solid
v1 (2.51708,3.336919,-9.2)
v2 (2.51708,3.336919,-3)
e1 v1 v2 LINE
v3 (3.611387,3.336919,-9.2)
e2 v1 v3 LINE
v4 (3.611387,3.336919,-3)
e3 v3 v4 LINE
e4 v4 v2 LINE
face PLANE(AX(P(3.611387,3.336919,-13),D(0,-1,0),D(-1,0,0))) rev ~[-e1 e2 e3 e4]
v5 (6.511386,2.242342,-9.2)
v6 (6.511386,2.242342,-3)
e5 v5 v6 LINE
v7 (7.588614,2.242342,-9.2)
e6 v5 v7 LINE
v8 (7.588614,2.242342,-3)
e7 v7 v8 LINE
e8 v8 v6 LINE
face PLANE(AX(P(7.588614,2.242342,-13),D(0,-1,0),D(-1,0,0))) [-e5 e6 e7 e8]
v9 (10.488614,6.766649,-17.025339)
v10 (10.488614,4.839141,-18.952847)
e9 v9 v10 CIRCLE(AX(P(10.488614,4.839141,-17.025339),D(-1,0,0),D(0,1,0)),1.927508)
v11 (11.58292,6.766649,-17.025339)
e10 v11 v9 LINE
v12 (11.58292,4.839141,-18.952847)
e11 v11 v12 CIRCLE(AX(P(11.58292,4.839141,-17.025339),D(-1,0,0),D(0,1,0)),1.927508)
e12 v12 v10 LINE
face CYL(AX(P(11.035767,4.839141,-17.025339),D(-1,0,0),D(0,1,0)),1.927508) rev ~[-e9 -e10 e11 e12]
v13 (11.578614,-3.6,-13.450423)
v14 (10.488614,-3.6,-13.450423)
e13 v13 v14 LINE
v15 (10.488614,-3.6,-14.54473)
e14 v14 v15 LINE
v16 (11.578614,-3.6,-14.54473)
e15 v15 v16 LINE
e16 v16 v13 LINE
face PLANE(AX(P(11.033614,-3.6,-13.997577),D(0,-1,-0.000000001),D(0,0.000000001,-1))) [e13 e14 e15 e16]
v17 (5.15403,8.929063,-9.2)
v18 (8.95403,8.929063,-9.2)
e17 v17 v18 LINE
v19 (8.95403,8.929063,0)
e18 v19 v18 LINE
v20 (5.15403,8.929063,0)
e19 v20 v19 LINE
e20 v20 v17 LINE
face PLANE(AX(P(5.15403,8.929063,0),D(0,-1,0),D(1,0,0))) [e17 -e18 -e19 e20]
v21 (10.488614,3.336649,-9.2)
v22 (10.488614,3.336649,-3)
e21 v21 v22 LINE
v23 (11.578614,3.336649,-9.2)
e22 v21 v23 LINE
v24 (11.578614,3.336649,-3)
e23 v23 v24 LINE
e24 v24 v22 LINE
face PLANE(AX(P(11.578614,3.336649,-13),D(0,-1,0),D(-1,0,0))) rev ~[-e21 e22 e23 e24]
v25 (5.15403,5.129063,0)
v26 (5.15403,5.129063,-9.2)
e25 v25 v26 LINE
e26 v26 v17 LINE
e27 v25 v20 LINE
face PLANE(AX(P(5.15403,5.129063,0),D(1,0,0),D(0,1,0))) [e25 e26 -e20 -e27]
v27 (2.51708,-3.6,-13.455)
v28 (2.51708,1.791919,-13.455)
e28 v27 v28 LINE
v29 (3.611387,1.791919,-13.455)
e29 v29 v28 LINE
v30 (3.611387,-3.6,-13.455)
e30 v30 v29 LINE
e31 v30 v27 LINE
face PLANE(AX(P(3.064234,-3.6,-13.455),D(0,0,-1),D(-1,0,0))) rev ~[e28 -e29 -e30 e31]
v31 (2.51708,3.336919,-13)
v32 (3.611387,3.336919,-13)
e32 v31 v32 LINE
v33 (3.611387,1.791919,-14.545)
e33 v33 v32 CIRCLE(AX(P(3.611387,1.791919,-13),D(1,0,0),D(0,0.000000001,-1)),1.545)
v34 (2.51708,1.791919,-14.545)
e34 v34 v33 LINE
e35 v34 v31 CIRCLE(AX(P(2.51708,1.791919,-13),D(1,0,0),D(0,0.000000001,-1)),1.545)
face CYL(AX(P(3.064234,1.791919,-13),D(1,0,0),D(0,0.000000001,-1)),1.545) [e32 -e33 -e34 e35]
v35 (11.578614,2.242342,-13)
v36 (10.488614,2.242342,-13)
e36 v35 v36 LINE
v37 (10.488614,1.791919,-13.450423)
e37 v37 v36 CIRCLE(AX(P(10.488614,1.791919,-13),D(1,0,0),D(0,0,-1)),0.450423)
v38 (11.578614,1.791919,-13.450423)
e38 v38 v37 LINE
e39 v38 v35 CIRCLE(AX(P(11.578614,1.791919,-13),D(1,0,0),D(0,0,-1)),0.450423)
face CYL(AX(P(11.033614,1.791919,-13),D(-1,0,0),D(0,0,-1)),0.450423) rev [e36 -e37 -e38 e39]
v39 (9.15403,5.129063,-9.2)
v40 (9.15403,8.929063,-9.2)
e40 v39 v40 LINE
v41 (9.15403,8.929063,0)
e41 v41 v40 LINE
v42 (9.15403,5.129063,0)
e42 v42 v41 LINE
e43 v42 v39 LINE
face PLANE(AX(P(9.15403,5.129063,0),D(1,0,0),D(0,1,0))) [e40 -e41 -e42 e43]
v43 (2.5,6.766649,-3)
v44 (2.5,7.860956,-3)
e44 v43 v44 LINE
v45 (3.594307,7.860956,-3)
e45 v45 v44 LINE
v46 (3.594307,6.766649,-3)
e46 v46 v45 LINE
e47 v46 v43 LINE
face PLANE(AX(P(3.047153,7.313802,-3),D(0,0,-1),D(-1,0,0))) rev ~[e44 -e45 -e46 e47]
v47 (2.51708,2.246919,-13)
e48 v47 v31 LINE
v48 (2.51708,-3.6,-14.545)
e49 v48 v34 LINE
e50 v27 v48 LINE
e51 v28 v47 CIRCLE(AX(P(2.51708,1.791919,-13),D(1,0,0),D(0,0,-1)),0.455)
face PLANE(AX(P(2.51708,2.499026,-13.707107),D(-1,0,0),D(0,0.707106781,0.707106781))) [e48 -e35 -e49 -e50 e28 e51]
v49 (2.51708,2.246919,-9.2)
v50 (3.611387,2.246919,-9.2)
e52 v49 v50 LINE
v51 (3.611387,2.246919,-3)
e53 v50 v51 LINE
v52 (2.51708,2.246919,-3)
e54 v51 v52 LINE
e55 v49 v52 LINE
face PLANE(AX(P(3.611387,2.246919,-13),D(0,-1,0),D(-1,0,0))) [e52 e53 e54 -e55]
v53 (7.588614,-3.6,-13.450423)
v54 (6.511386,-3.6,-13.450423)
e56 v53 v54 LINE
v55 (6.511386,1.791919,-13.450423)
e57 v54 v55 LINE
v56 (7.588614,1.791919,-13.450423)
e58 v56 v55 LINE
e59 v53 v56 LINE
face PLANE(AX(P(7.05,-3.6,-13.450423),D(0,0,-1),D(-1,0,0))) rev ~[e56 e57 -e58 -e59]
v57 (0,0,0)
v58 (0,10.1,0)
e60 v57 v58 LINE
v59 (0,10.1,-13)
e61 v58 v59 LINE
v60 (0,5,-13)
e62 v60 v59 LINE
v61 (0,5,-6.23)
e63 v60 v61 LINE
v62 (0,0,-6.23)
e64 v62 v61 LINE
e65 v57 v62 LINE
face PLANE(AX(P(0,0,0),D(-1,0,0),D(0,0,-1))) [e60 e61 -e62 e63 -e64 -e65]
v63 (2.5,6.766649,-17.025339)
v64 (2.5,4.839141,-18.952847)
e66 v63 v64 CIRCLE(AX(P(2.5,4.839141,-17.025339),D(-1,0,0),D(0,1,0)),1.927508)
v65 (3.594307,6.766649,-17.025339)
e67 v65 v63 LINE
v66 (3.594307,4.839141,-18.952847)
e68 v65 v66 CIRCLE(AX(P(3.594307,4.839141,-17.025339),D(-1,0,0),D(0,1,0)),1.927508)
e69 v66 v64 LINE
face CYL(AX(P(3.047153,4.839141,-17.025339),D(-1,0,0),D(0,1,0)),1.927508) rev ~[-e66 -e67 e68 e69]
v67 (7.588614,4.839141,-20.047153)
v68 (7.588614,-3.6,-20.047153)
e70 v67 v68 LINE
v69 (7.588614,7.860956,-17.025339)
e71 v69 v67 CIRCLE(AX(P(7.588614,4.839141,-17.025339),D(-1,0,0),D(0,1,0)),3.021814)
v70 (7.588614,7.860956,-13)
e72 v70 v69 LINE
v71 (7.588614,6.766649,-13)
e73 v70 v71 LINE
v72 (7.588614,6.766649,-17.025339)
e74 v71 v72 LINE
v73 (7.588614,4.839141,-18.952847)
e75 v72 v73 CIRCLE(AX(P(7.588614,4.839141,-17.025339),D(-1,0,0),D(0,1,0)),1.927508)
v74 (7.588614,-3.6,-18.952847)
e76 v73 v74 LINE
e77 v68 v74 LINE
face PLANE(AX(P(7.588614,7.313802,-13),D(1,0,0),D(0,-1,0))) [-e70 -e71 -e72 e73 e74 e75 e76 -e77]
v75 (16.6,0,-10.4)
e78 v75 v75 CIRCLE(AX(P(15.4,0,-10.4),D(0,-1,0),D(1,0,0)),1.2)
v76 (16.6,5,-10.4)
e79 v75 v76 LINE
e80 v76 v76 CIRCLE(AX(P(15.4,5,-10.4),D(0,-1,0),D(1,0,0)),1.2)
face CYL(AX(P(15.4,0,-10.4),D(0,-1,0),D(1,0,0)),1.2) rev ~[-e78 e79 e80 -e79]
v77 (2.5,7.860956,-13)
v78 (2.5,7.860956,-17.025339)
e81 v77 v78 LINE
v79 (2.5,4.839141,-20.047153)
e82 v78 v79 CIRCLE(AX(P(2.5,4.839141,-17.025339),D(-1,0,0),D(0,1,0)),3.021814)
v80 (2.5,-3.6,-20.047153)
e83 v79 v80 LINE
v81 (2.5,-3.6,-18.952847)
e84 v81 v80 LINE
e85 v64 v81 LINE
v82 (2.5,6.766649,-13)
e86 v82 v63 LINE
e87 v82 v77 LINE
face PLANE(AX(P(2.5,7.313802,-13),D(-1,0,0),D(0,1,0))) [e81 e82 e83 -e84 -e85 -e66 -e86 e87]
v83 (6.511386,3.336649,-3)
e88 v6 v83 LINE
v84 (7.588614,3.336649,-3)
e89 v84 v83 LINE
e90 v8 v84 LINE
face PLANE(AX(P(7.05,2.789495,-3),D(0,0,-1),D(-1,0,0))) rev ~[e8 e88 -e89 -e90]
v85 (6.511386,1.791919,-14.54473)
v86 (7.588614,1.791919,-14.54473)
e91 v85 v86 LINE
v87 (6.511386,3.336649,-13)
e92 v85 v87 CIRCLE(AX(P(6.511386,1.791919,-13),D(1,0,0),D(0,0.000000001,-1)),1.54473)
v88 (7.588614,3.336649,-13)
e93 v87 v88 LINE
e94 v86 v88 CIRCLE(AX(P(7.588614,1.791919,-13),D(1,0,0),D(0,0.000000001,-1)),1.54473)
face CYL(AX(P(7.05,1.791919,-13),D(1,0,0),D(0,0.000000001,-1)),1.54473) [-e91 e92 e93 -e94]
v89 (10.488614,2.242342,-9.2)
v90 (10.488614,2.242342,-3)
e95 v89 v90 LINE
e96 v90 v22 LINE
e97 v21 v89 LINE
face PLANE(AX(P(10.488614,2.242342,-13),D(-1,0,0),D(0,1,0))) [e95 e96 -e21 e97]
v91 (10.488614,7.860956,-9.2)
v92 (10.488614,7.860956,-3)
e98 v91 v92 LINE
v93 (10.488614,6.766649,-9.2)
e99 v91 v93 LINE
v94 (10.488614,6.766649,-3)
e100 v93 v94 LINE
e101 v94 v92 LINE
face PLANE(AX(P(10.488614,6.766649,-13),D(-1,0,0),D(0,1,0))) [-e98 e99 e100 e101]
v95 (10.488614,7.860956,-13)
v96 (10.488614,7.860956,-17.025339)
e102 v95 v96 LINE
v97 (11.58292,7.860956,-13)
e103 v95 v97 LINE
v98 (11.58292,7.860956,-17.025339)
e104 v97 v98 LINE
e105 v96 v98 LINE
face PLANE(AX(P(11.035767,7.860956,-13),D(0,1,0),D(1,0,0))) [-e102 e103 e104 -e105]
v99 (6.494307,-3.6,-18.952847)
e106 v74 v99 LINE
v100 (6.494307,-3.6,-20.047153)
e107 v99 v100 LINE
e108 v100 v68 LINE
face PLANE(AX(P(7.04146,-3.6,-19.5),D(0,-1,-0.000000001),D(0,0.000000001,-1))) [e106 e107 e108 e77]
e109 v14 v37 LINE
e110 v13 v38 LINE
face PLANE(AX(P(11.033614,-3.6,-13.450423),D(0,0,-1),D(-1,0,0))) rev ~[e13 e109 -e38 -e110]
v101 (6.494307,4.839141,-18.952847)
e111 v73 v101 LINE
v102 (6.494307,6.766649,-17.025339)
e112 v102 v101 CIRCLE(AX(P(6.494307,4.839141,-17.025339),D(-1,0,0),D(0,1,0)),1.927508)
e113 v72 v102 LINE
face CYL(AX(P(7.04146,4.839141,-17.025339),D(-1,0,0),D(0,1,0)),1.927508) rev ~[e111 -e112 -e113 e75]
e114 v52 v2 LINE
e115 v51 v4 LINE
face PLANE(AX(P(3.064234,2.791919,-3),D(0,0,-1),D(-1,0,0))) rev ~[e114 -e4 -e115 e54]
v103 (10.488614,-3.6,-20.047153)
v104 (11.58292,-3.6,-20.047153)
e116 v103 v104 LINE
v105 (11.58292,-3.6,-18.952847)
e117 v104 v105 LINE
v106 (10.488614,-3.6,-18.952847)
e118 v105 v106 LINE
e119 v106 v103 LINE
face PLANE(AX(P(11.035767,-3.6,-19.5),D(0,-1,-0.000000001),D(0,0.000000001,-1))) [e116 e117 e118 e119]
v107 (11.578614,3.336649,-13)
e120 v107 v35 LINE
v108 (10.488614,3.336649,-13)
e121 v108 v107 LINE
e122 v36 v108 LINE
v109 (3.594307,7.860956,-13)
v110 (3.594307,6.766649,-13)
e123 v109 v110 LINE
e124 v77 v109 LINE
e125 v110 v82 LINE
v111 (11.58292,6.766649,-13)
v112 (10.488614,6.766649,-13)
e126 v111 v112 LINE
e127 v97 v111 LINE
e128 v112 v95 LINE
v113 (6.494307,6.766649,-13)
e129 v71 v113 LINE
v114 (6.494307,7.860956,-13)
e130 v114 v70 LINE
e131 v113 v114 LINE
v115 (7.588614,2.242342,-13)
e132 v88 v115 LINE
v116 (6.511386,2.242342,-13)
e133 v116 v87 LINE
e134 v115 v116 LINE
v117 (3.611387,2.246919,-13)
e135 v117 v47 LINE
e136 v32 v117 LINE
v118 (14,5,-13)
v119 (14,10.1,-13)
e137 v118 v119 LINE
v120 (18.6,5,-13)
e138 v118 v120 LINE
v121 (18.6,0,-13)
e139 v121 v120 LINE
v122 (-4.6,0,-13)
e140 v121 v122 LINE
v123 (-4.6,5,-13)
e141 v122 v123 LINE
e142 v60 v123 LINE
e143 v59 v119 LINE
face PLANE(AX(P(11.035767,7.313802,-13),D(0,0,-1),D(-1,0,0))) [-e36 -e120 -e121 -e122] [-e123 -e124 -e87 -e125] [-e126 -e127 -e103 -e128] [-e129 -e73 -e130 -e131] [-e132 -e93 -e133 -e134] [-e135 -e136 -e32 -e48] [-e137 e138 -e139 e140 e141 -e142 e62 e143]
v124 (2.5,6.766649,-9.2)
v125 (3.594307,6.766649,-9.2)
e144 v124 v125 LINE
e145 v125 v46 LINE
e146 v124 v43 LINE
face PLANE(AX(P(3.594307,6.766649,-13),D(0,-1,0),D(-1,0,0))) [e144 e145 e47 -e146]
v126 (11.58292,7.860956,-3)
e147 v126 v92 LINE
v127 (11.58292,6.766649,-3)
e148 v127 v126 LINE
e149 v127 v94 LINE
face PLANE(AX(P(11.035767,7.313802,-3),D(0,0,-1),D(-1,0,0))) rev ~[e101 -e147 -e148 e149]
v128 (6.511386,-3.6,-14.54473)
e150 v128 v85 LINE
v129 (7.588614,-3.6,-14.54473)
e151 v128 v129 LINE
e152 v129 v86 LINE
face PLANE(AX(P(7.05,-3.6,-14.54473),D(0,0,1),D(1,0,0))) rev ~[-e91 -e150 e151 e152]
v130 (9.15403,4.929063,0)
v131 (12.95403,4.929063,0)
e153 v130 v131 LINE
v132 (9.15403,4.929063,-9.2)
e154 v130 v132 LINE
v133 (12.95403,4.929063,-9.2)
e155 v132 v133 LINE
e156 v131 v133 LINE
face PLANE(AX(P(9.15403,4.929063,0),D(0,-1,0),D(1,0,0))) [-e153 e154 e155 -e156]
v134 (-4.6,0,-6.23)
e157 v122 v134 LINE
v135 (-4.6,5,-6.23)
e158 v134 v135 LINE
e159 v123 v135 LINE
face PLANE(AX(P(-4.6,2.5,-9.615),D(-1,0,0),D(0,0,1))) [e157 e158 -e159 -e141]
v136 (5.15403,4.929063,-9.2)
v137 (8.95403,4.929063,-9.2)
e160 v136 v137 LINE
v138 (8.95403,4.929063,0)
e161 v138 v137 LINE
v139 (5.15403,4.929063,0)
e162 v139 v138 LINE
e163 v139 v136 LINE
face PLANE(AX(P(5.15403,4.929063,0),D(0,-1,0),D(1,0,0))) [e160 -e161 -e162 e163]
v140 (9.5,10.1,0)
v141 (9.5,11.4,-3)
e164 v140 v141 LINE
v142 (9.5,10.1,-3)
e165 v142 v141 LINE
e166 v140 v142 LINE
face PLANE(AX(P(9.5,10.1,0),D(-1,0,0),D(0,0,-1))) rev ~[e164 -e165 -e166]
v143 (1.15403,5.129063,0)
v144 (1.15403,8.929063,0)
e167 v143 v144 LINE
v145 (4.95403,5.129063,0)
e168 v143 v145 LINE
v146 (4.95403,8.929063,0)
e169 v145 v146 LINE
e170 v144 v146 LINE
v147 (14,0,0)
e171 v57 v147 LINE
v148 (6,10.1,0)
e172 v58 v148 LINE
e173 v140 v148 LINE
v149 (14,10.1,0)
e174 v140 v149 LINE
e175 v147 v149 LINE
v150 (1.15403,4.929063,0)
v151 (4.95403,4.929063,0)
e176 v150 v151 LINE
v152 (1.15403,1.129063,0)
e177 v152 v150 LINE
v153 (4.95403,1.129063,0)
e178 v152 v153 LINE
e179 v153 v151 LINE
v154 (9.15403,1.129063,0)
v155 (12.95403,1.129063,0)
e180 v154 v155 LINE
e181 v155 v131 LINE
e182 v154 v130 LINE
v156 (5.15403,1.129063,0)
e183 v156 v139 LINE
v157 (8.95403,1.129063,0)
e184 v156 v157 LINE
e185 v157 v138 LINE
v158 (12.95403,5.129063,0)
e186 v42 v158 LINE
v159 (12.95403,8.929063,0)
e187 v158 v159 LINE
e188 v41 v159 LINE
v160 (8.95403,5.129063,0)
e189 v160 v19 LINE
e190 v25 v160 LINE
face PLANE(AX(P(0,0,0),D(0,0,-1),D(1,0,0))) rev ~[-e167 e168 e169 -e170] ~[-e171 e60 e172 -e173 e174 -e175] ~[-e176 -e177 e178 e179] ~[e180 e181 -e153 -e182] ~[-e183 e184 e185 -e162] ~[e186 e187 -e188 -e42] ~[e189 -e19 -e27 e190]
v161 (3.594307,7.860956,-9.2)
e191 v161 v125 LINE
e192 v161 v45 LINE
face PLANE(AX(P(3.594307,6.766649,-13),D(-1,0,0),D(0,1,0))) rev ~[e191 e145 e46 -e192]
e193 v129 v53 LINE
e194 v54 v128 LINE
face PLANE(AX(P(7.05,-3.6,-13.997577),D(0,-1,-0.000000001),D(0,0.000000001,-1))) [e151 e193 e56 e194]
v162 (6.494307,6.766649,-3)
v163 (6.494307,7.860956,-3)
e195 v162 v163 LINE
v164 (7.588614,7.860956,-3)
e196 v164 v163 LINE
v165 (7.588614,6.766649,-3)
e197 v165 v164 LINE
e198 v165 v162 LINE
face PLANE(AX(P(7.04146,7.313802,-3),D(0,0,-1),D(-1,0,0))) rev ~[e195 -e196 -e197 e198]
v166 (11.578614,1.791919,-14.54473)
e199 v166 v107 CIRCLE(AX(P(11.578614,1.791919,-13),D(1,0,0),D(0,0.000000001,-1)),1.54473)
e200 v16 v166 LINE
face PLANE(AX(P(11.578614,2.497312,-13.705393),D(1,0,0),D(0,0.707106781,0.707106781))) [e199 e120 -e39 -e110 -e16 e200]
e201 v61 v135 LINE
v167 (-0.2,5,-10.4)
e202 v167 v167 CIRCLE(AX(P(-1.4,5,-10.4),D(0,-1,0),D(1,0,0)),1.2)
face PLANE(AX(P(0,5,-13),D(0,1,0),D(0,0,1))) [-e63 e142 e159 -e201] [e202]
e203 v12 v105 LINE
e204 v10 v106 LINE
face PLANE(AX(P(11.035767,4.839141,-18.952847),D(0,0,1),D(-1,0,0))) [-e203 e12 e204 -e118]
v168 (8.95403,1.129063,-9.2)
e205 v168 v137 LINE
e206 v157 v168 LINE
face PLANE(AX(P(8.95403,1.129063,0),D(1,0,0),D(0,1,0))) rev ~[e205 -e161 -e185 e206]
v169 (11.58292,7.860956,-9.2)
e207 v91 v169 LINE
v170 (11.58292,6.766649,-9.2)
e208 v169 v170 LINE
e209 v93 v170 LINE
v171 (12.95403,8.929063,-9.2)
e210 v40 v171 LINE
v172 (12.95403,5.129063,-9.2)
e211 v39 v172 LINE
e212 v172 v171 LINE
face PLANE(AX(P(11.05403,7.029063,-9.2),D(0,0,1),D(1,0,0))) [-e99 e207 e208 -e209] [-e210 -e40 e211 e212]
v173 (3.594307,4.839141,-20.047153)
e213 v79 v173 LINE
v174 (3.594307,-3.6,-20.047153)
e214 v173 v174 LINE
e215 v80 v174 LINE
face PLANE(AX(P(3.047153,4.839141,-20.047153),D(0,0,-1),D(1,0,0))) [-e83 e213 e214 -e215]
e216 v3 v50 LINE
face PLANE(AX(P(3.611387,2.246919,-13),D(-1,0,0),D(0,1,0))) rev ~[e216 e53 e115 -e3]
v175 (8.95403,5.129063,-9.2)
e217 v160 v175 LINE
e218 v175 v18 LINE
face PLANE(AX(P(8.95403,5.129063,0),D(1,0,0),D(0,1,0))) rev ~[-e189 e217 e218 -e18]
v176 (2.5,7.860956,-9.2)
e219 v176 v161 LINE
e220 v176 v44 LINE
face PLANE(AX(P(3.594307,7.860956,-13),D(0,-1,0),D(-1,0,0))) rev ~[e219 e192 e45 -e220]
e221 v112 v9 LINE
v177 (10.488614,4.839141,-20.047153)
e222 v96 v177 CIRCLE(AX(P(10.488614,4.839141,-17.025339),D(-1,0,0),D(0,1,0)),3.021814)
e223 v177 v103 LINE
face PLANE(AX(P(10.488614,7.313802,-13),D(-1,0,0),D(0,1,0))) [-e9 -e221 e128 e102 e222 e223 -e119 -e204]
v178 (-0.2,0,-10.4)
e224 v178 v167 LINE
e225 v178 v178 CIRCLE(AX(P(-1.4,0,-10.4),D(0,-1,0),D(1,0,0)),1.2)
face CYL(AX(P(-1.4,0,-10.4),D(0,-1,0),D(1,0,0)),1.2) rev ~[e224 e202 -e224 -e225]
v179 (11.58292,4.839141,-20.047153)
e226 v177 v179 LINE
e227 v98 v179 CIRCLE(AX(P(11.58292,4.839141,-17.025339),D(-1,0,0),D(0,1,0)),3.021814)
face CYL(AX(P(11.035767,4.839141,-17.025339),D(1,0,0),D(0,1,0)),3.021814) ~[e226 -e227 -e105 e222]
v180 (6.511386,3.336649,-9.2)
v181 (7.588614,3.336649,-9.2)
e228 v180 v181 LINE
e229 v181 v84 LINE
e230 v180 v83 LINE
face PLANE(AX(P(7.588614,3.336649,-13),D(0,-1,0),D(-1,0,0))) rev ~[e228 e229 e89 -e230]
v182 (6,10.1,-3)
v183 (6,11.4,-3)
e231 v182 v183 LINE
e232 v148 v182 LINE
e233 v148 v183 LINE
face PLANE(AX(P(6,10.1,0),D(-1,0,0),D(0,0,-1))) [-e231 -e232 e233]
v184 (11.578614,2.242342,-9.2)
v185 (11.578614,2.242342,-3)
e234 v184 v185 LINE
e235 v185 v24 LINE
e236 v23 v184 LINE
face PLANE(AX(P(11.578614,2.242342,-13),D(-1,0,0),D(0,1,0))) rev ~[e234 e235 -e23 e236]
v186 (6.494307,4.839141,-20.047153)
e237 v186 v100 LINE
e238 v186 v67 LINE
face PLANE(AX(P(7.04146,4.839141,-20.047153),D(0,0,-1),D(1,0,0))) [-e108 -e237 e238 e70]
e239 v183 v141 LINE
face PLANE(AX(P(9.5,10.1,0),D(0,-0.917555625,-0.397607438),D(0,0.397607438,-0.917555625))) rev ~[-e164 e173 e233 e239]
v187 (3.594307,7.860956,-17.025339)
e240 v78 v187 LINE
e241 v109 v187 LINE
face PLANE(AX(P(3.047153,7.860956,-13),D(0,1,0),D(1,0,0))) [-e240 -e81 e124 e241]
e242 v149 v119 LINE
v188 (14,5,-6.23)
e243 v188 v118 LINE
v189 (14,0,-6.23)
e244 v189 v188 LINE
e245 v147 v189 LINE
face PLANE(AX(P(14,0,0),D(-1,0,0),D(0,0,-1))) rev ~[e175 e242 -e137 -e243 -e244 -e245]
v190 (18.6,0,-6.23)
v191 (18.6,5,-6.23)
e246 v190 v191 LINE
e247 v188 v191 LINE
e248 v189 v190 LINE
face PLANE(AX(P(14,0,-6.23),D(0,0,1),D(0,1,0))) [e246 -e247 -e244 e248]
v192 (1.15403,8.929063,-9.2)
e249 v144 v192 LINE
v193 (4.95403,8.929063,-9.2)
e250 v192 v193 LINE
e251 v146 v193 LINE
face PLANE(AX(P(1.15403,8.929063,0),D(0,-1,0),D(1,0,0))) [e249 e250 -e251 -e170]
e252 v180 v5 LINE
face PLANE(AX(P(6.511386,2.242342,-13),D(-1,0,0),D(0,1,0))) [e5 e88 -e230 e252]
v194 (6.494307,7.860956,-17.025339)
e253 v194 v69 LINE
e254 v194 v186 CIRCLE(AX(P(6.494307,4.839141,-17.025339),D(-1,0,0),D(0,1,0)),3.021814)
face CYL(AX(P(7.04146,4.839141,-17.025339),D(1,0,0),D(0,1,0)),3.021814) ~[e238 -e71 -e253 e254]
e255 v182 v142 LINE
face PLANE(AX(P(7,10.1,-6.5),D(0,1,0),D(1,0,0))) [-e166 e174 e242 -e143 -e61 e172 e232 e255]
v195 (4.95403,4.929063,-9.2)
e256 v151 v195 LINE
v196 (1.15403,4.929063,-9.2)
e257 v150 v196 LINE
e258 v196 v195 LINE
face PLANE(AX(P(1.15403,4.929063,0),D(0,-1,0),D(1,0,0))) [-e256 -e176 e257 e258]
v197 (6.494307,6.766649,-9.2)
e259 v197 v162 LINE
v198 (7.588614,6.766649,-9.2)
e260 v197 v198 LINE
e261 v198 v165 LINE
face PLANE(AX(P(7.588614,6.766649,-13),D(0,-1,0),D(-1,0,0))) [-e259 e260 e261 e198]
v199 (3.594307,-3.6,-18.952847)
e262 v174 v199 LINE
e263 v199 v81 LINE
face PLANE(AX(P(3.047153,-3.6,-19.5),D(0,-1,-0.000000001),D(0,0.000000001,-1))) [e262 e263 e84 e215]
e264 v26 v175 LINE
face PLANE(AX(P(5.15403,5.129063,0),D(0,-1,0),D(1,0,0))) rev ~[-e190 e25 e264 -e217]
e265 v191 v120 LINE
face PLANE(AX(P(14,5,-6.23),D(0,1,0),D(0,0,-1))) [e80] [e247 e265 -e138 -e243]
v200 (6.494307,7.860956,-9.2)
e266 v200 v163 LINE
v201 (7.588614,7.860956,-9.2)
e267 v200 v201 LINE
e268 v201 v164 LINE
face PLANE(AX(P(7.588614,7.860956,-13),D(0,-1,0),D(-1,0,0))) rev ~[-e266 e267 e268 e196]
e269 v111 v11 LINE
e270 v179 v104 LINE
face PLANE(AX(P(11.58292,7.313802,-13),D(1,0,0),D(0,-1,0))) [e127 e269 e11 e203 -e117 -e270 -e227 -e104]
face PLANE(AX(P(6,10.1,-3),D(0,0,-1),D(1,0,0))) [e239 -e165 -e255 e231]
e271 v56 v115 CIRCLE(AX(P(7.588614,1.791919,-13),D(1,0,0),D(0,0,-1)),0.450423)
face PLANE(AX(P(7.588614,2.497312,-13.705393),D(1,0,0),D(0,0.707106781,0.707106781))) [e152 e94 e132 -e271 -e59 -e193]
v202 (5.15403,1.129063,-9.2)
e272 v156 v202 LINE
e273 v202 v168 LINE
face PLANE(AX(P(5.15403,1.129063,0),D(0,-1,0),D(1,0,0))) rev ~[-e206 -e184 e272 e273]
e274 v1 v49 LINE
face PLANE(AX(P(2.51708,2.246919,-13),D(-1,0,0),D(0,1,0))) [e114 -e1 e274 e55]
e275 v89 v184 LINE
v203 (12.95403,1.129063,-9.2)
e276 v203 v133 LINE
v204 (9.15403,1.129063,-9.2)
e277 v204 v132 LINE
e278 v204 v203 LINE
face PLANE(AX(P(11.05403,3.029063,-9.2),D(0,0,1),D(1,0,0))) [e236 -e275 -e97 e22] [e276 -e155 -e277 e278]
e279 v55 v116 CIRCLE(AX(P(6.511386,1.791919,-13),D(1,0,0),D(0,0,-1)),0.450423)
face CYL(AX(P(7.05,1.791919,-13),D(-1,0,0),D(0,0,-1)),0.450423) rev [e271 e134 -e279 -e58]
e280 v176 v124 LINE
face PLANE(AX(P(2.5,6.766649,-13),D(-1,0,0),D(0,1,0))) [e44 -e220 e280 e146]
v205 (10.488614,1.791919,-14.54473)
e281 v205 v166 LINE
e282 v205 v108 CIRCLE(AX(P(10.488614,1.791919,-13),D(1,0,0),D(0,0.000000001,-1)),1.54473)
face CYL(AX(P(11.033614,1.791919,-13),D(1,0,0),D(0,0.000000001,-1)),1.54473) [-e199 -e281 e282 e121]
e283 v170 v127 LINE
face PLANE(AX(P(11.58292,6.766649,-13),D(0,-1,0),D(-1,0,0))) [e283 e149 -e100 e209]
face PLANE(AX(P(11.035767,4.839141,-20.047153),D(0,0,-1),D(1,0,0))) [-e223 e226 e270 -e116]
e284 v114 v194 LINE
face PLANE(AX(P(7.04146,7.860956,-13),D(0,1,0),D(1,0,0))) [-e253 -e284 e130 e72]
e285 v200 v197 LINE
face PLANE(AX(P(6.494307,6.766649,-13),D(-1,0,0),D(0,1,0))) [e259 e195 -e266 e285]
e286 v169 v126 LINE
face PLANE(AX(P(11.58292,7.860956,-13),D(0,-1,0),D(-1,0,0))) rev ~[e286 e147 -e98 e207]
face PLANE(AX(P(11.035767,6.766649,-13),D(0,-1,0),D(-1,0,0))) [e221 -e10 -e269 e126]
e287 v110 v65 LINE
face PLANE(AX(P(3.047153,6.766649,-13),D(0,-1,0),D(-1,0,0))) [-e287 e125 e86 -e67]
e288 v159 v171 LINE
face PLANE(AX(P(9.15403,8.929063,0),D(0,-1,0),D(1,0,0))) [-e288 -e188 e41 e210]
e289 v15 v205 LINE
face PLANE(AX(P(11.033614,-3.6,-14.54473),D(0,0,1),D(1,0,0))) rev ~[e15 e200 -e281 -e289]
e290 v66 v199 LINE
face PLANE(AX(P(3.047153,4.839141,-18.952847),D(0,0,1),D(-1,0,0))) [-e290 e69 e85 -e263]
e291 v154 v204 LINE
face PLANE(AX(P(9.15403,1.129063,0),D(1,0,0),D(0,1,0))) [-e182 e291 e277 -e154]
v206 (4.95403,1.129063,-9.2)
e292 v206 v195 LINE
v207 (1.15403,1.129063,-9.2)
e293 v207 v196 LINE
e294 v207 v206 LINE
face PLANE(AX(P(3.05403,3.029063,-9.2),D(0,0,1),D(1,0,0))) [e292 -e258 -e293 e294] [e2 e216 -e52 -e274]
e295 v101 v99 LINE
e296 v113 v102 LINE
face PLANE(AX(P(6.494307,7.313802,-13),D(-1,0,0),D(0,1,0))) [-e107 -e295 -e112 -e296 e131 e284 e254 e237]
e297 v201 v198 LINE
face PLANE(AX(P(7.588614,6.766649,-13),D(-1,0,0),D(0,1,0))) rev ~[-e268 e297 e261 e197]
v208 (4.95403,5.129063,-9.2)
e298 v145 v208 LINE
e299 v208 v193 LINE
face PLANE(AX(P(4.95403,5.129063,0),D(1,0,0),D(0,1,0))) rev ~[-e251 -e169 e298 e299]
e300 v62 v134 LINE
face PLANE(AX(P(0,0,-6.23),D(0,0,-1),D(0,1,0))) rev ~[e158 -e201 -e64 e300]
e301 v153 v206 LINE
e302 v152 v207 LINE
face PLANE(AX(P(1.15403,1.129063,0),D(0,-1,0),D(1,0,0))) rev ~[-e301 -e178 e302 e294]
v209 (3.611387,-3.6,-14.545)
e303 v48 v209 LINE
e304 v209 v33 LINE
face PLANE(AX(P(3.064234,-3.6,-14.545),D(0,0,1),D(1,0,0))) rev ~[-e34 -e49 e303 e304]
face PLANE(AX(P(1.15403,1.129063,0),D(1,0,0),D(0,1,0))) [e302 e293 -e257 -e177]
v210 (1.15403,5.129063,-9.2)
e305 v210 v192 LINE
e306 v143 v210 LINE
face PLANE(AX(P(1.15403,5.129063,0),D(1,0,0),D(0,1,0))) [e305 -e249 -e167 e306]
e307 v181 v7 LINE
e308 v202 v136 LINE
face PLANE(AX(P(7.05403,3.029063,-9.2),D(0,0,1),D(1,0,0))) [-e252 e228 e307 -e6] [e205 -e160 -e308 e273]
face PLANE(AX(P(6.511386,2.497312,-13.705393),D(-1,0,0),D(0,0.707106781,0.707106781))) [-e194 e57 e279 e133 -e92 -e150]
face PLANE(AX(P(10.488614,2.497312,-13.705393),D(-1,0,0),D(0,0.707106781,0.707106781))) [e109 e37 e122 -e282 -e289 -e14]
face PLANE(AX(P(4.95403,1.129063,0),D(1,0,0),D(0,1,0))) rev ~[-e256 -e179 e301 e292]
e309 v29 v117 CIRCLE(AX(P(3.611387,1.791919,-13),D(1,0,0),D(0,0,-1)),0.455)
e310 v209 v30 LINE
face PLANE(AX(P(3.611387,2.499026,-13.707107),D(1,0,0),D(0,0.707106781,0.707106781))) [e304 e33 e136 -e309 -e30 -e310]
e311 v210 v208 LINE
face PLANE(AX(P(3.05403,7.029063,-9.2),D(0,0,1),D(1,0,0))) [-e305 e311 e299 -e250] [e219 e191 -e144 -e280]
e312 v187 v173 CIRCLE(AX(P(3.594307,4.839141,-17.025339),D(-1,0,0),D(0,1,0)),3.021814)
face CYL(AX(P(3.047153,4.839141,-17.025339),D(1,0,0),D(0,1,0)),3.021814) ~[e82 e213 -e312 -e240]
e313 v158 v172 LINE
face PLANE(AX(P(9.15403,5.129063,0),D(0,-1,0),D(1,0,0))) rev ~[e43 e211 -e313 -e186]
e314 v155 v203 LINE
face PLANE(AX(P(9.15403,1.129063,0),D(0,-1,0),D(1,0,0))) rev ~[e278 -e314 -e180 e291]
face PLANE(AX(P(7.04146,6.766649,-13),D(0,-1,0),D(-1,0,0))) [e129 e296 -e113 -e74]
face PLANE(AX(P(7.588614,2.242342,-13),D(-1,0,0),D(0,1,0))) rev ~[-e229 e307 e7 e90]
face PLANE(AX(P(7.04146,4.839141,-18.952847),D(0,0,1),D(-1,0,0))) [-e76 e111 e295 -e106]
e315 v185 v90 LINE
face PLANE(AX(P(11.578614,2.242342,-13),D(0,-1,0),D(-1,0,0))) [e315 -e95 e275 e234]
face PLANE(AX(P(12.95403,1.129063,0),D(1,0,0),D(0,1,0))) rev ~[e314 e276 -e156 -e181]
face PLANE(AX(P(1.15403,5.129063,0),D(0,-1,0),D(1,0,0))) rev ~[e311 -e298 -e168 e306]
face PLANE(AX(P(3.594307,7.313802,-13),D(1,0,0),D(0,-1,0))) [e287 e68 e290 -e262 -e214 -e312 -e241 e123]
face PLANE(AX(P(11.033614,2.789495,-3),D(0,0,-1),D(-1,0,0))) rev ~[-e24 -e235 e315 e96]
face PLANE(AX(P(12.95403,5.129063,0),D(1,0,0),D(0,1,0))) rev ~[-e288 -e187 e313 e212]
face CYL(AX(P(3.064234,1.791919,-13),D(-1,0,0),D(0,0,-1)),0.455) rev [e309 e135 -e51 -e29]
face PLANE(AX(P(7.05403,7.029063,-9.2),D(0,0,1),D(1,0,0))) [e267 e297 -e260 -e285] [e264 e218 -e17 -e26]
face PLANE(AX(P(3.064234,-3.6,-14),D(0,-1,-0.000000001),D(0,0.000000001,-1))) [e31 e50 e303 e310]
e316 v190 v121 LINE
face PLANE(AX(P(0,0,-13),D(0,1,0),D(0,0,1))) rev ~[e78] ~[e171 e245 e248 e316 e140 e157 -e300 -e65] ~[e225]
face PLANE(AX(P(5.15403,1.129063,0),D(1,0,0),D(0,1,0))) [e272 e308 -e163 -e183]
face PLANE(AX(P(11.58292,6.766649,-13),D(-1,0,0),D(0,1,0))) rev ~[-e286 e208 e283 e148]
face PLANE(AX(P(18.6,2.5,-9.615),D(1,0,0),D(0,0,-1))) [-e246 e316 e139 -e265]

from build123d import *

# Parameters (mm, degrees)
SKETCH1_W           = 14
SKETCH1_H           = 13
BOSS_EXTRUDE1_DEPTH = 10.1
SKETCH2_W           = 3.5
SKETCH2_H           = 3
BOSS_EXTRUDE2_DEPTH = 1.3
CUT_EXTRUDE1_REACH  = 21.728
SKETCH4_W           = 6.77
SKETCH4_H           = 5
BOSS_EXTRUDE3_DEPTH = 4.6
SKETCH5_W           = 6.77
SKETCH5_H           = 5
BOSS_EXTRUDE4_DEPTH = 4.6
SKETCH6_W           = 3.8
SKETCH6_H           = 3.8
CUT_EXTRUDE2_DEPTH  = 9.2
SKETCH7_W           = 1.094306831
SKETCH7_H           = 1.09430683
SKETCH7_W_2         = 1.09430683
BOSS_EXTRUDE5_DEPTH = 10
SKETCH7_4_W         = 1.094306831
SKETCH7_4_H         = 1.09430683
SKETCH7_4_W_2       = 1.09430683
SKETCH10_W          = 1.09430683
SKETCH10_H          = 1.09
SKETCH10_W_2        = 1.077227458
SKETCH10_H_2        = 1.094306831
SKETCH10_W_3        = 1.09
SKETCH10_2_W        = 1.09430683
SKETCH10_2_H        = 1.09
SKETCH10_2_W_2      = 1.077227458
SKETCH10_2_H_2      = 1.094306831
SKETCH10_2_W_3      = 1.09
BOSS_EXTRUDE6_DEPTH = 10
SKETCH12_R          = 1.2
CUT_EXTRUDE3_DEPTH  = 30.627830836


with BuildPart() as part:
    # Sketch1 → Boss-Extrude1 (new body)
    with BuildSketch(Plane(origin=(0, 0, 0), x_dir=(1, 0, 0), z_dir=(0, 1, 0))):
        with Locations((7, 6.5)):
            Rectangle(SKETCH1_W, SKETCH1_H)
    extrude(amount=BOSS_EXTRUDE1_DEPTH)

    # Sketch2 → Boss-Extrude2 (add)
    with BuildSketch(Plane(origin=(0, 10.1, 0), x_dir=(1, 0, 0), z_dir=(0, 1, 0))):
        with Locations((7.75, 1.5)):
            Rectangle(SKETCH2_W, SKETCH2_H)
    extrude(amount=BOSS_EXTRUDE2_DEPTH)

    # Sketch3 → Cut-Extrude1 (cut, up to next)
    with BuildSketch(Plane(origin=(9.5, 0, 0), x_dir=(0, 0, -1), z_dir=(1, 0, 0)), mode=Mode.PRIVATE) as cut_extrude1_sk1:
        Polygon((0, 10.1), (3, 11.4), (0, 11.4), align=None)
    cut_extrude1_tool1 = extrude(cut_extrude1_sk1.sketch, amount=-CUT_EXTRUDE1_REACH, mode=Mode.PRIVATE) & part.part
    add(cut_extrude1_tool1.solids().sort_by_distance((9.5, 10.966667, -1))[0], mode=Mode.SUBTRACT)

    # Sketch4 → Boss-Extrude3 (add)
    with BuildSketch(Plane(origin=(14, 0, 0), x_dir=(0, 0, -1), z_dir=(1, 0, 0))):
        with Locations((9.615, 2.5)):
            Rectangle(SKETCH4_W, SKETCH4_H)
    extrude(amount=BOSS_EXTRUDE3_DEPTH)

    # Sketch5 → Boss-Extrude4 (add)
    with BuildSketch(Plane.ZY):
        with Locations((-9.615, 2.5)):
            Rectangle(SKETCH5_W, SKETCH5_H)
    extrude(amount=BOSS_EXTRUDE4_DEPTH)

    # Sketch6 → Cut-Extrude2 (cut)
    with BuildSketch(Plane.XY):
        with Locations((3.054030332, 7.029063078)):
            Rectangle(SKETCH6_W, SKETCH6_H)
        with Locations((11.054030332, 3.029063078)):
            Rectangle(SKETCH6_W, SKETCH6_H)
        with Locations((11.054030332, 7.029063078)):
            Rectangle(SKETCH6_W, SKETCH6_H)
        with Locations((3.054030332, 3.029063078)):
            Rectangle(SKETCH6_W, SKETCH6_H)
        with Locations((7.054030332, 7.029063078)):
            Rectangle(SKETCH6_W, SKETCH6_H)
        with Locations((7.054030332, 3.029063078)):
            Rectangle(SKETCH6_W, SKETCH6_H)
    extrude(amount=-CUT_EXTRUDE2_DEPTH, mode=Mode.SUBTRACT)

    # Sketch7 → Boss-Extrude5 (add)
    with BuildSketch(Plane(origin=(0, 0, -13), x_dir=(-1, 0, 0), z_dir=(0, 0, -1))):
        with Locations((-11.035767077, 7.313802256)):
            Rectangle(SKETCH7_W, SKETCH7_H)
        with Locations((-7.041460246, 7.313802256)):
            Rectangle(SKETCH7_W_2, SKETCH7_H)
        with Locations((-3.047153416, 7.313802256)):
            Rectangle(SKETCH7_W, SKETCH7_H)
    extrude(amount=-BOSS_EXTRUDE5_DEPTH)

    # Sweep2: sweep along a path in Sketch8
    with BuildLine(Plane(origin=(4, 0, 0), x_dir=(0, 0, -1), z_dir=(1, 0, 0))) as sweep2_path:
        Line((13, 7.313802256), (17.025339082, 7.313802256))
        ThreePointArc((17.025339082, 7.313802256), (18.775188598, 6.588990854), (19.5, 4.839141338))
        Line((19.5, 4.839141338), (19.5, 0))
        Line((19.5, 0), (19.5, -3.6))
    # Sketch7<4> → Sweep2 (sweep)
    with BuildSketch(Plane(origin=(0, 0, -13), x_dir=(-1, 0, 0), z_dir=(0, 0, -1))):
        with Locations((-11.035767077, 7.313802256)):
            Rectangle(SKETCH7_4_W, SKETCH7_4_H)
        with Locations((-7.041460246, 7.313802256)):
            Rectangle(SKETCH7_4_W_2, SKETCH7_4_H)
        with Locations((-3.047153416, 7.313802256)):
            Rectangle(SKETCH7_4_W, SKETCH7_4_H)
    sweep(path=sweep2_path.line)

    # Sweep3: sweep along a path in Sketch11
    with BuildLine(Plane(origin=(4, 0, 0), x_dir=(0, 0, -1), z_dir=(1, 0, 0))) as sweep3_path:
        Line((14, -3.6), (14, 0))
        Line((14, 0), (14, 1.79191881))
        ThreePointArc((14, 1.79191881), (13.707106781, 2.499025591), (13, 2.79191881))
    # Sketch10 → Sweep3 (sweep)
    with BuildSketch(Plane(origin=(0, 0, -13), x_dir=(-1, 0, 0), z_dir=(0, 0, -1))):
        with Locations((-3.0642338, 2.79191881)):
            Rectangle(SKETCH10_W, SKETCH10_H)
        with Locations((-7.049999932, 2.789495426)):
            Rectangle(SKETCH10_W_2, SKETCH10_H_2)
        with Locations((-11.033613661, 2.789495426)):
            Rectangle(SKETCH10_W_3, SKETCH10_H_2)
    sweep(path=sweep3_path.line)

    # Sketch10<2> → Boss-Extrude6 (add)
    with BuildSketch(Plane(origin=(0, 0, -13), x_dir=(-1, 0, 0), z_dir=(0, 0, -1))):
        with Locations((-3.0642338, 2.79191881)):
            Rectangle(SKETCH10_2_W, SKETCH10_2_H)
        with Locations((-7.049999932, 2.789495426)):
            Rectangle(SKETCH10_2_W_2, SKETCH10_2_H_2)
        with Locations((-11.033613661, 2.789495426)):
            Rectangle(SKETCH10_2_W_3, SKETCH10_2_H_2)
    extrude(amount=-BOSS_EXTRUDE6_DEPTH)

    # Sketch12 → Cut-Extrude3 (cut, through all)
    with BuildSketch(Plane.XZ):
        with Locations((-1.4, -10.4)):
            Circle(SKETCH12_R)
        with Locations((15.4, -10.4)):
            Circle(SKETCH12_R)
    extrude(amount=-CUT_EXTRUDE3_DEPTH, mode=Mode.SUBTRACT)


solid = part.part
